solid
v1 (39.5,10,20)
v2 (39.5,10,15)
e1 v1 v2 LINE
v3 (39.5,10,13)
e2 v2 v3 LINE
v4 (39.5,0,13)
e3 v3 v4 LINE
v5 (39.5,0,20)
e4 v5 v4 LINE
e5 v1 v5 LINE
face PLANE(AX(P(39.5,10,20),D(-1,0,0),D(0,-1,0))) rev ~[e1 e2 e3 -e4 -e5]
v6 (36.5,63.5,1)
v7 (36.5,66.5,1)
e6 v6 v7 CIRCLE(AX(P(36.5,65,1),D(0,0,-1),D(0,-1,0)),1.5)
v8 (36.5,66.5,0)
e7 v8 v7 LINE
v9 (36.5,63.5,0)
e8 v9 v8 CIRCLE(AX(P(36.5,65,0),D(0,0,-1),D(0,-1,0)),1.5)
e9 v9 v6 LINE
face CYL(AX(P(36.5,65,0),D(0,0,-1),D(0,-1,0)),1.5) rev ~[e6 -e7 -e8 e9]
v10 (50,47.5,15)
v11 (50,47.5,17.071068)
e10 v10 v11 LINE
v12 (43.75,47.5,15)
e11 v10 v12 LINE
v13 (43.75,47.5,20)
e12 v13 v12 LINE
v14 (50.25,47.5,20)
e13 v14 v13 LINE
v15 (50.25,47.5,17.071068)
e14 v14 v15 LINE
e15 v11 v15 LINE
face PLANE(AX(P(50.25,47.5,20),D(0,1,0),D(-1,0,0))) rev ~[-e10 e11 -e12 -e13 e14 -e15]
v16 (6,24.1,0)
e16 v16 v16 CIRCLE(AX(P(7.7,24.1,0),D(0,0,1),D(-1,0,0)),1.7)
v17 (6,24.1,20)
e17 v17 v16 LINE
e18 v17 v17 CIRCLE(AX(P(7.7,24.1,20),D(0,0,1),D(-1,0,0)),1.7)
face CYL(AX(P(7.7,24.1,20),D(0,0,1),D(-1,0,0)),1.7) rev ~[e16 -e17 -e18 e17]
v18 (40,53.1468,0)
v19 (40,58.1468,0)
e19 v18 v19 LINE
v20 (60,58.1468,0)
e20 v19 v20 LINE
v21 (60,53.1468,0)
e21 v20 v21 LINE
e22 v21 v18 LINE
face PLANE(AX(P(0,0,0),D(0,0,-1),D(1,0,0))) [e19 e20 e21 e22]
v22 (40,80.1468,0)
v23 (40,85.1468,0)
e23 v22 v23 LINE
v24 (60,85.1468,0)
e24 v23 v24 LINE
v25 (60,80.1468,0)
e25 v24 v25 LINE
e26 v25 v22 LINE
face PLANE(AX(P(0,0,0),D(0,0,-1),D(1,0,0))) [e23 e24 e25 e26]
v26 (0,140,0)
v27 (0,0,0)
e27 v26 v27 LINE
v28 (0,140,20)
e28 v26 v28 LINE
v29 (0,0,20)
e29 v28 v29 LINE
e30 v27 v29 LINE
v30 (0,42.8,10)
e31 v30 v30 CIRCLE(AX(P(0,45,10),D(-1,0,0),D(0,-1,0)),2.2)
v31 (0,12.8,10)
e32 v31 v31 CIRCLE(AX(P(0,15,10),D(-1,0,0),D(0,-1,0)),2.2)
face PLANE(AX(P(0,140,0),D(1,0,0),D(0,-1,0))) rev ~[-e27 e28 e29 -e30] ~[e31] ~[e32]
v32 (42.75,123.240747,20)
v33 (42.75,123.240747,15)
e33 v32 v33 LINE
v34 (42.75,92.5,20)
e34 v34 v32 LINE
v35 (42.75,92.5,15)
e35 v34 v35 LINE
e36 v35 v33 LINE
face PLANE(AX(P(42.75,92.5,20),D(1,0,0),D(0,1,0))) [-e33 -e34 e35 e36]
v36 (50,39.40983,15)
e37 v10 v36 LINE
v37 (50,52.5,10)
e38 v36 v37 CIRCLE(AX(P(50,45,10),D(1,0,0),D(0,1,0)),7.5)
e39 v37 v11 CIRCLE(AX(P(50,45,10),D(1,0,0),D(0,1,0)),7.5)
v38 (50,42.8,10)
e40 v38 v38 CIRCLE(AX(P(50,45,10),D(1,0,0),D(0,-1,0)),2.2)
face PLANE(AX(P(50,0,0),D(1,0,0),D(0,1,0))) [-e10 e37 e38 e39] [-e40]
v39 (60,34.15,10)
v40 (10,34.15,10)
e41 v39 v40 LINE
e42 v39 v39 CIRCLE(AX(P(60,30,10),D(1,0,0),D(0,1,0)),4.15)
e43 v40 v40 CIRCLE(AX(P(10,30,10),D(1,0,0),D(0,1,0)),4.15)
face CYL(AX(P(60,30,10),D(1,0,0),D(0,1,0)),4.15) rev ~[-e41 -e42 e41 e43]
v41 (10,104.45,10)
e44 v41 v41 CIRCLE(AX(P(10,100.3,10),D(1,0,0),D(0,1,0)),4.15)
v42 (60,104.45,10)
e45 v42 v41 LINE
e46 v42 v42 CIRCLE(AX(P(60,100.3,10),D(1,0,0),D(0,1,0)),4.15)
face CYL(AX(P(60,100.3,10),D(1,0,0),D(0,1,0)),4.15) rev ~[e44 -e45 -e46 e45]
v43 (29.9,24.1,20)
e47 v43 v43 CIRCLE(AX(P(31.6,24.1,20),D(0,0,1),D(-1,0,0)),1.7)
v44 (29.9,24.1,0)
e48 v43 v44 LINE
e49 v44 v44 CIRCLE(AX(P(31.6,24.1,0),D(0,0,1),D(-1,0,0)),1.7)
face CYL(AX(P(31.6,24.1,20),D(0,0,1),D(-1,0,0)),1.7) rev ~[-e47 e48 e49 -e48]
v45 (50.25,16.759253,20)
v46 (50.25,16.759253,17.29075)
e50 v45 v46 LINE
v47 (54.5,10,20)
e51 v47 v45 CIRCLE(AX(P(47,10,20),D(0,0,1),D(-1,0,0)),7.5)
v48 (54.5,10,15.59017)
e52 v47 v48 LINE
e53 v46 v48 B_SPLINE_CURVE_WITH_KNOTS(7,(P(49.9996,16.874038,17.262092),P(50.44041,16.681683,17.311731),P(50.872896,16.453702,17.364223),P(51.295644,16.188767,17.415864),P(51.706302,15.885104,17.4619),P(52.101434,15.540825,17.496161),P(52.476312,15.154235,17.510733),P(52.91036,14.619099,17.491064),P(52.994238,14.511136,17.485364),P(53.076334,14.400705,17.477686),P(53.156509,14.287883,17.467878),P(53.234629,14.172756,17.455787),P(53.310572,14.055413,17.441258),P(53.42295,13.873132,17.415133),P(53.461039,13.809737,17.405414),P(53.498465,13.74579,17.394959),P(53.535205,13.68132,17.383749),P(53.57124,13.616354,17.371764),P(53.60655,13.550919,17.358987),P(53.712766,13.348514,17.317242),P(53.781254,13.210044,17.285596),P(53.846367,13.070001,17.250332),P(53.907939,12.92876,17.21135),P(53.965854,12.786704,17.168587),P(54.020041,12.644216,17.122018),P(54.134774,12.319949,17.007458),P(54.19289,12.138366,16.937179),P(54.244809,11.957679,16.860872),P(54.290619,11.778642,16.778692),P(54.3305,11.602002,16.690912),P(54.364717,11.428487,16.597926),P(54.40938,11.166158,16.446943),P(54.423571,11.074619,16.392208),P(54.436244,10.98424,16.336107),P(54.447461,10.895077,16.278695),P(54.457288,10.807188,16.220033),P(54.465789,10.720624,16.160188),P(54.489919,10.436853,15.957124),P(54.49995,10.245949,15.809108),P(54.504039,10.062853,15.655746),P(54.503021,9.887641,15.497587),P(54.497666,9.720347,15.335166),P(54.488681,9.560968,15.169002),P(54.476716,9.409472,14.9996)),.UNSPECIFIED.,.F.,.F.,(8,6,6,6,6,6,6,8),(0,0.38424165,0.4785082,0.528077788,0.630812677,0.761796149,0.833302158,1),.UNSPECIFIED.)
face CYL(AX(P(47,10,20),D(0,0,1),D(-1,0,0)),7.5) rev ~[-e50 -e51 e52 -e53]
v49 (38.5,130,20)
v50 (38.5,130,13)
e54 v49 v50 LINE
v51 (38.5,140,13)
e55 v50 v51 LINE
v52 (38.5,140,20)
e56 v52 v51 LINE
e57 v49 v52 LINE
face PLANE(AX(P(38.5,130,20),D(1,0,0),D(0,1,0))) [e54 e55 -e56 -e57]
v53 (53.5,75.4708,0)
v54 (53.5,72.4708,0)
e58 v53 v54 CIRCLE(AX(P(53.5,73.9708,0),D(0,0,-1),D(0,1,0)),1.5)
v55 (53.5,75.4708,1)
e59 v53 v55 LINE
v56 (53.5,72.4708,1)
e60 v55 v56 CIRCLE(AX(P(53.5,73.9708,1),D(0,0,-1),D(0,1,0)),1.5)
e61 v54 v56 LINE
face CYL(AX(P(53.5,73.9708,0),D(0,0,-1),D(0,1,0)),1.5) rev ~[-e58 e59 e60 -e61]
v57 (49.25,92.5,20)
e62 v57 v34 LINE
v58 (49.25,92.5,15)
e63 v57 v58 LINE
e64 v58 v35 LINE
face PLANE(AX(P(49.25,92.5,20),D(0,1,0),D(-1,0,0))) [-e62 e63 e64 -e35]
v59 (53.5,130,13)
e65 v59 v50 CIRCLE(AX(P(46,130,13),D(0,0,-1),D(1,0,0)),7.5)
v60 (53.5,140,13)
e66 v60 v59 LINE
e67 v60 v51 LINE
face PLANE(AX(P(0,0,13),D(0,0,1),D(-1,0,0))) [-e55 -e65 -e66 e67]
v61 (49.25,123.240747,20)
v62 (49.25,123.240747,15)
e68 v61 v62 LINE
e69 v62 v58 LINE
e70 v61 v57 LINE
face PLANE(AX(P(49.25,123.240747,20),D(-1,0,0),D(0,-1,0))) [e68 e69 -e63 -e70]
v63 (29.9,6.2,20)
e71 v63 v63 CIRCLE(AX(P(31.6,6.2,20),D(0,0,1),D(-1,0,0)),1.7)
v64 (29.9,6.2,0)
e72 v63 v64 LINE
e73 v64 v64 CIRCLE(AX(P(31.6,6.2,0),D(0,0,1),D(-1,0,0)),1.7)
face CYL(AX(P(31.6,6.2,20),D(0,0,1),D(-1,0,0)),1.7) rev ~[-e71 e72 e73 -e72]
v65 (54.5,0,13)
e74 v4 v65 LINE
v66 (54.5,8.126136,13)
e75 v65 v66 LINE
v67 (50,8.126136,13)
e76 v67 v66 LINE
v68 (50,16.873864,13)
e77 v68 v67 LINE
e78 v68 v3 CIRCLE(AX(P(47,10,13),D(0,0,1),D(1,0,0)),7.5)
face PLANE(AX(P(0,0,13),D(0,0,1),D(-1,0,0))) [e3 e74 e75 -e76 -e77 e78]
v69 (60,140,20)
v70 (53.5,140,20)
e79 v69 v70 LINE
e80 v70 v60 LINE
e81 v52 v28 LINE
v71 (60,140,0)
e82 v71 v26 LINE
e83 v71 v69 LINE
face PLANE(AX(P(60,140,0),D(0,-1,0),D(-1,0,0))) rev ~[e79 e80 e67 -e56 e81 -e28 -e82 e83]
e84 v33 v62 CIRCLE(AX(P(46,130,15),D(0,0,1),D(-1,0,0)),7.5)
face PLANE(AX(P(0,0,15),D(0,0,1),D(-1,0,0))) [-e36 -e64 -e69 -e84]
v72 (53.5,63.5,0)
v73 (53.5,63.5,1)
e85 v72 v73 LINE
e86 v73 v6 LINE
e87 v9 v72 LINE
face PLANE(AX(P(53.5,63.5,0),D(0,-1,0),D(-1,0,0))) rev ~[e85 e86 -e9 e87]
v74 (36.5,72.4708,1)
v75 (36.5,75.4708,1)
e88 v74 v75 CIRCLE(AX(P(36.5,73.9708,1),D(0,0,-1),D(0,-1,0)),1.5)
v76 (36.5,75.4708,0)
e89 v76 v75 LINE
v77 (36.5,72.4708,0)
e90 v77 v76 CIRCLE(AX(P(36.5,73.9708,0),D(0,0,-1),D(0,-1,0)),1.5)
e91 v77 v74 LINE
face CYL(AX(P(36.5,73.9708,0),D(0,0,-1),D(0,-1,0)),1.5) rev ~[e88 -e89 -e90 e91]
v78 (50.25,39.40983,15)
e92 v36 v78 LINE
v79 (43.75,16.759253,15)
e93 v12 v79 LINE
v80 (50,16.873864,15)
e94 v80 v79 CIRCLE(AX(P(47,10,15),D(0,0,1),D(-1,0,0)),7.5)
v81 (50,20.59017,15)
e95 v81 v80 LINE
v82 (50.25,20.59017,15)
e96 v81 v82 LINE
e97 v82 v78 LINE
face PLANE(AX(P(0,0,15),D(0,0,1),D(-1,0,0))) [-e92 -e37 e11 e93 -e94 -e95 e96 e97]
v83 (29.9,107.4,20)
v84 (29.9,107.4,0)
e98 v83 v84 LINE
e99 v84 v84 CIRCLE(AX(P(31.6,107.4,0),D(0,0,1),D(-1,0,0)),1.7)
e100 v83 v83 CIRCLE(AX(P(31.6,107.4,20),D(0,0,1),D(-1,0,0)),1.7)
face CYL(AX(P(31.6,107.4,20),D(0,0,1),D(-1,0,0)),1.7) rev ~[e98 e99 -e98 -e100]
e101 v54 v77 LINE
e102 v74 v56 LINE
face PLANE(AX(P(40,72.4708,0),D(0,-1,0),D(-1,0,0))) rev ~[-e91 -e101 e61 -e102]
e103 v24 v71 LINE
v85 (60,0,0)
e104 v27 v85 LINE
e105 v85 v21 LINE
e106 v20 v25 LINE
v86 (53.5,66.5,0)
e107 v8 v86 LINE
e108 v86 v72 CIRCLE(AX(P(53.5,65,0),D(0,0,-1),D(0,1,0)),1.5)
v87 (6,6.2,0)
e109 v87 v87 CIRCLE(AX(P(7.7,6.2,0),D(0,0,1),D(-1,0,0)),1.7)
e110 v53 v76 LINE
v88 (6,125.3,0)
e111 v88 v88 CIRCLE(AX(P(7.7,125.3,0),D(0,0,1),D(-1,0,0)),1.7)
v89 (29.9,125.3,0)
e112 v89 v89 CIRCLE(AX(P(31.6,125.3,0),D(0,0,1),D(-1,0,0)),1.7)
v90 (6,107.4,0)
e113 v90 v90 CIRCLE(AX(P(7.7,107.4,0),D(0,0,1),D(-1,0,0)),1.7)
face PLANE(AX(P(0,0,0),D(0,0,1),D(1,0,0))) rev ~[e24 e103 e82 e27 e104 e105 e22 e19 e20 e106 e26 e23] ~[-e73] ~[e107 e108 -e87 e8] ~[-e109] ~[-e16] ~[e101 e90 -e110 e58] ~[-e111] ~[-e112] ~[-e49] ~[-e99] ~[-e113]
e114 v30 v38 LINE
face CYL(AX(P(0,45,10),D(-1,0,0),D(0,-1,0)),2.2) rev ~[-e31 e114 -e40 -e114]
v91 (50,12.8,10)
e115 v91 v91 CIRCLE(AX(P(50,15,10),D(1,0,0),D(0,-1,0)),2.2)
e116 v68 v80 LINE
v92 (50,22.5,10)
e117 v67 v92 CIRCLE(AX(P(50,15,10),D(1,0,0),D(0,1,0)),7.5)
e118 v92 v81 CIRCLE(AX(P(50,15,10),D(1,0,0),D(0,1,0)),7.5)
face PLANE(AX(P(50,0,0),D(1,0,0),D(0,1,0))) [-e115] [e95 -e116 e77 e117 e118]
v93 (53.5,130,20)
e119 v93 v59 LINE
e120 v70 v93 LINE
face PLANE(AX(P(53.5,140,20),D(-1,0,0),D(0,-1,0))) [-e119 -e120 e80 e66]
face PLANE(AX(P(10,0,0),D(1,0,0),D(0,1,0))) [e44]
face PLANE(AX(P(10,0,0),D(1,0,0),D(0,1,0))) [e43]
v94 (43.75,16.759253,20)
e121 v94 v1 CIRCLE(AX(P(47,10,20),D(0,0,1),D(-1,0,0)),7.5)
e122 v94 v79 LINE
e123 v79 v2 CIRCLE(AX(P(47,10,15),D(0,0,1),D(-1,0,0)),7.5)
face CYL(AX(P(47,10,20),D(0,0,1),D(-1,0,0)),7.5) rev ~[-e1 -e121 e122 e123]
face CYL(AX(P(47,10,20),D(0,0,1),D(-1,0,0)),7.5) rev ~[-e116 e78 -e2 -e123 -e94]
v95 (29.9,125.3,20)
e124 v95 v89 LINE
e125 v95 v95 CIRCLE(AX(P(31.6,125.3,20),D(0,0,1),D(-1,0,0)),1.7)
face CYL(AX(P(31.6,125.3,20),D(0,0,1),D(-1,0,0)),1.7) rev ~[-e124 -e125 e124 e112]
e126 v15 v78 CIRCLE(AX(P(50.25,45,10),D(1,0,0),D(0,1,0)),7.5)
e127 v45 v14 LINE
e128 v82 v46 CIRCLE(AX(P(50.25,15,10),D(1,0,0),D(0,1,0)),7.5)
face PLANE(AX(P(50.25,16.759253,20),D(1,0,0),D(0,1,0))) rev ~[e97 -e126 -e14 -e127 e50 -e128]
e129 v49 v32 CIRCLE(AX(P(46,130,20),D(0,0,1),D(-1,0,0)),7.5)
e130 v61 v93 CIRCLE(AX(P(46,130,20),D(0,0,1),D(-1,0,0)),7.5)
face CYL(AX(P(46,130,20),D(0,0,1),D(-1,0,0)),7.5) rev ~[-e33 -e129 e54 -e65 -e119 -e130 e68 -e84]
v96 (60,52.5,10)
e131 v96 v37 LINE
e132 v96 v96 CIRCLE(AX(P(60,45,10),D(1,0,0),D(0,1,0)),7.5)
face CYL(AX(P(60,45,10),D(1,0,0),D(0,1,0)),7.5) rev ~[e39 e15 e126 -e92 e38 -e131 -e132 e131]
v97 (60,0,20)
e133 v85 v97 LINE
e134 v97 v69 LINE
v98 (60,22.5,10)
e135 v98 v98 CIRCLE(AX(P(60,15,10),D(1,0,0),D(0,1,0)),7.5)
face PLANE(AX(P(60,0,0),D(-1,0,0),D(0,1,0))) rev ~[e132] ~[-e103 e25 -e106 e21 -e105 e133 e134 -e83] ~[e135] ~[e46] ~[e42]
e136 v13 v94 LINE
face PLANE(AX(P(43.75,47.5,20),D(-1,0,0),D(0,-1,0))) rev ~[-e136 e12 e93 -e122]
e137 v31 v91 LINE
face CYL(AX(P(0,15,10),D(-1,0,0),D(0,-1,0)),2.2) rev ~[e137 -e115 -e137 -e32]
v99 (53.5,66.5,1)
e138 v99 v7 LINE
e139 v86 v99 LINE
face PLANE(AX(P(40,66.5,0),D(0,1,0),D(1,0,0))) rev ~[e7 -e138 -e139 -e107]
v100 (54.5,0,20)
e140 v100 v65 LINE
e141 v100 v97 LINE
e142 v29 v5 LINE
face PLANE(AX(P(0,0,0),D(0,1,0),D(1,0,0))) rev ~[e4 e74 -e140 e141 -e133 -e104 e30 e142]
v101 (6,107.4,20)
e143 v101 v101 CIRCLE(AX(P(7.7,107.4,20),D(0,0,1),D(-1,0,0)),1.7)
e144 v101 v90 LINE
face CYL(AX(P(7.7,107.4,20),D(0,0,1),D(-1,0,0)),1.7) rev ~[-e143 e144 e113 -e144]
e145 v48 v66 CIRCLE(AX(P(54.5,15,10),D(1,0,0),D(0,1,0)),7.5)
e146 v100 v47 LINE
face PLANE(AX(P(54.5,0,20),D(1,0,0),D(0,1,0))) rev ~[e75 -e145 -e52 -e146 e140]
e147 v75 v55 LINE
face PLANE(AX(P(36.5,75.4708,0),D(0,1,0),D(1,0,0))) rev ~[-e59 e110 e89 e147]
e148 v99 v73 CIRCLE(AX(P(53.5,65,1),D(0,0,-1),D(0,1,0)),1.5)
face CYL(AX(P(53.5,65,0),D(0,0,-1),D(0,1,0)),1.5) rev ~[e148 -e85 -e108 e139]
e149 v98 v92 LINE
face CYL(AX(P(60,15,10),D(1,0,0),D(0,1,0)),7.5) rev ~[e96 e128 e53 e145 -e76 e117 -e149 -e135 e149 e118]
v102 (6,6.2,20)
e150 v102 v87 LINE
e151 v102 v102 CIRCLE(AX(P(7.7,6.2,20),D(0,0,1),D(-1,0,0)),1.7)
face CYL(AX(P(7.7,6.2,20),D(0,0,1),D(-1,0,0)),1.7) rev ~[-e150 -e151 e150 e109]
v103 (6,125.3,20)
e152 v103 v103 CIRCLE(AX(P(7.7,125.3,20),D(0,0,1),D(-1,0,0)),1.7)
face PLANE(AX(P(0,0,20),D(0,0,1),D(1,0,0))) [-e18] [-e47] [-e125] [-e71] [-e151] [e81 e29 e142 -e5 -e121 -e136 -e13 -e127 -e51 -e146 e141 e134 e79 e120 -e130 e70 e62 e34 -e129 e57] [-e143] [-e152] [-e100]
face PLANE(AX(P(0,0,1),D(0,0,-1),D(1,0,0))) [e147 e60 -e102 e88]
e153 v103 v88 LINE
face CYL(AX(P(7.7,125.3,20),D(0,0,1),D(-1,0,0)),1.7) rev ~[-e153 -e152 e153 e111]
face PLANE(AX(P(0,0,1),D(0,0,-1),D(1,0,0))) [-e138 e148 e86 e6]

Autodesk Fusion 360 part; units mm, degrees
sketch "Skizze1" plane through (0, 0, 0) normal (0, 0, 1) x (1, 0, 0)
  line L0 (0, 0) -> (60, 0)
  line L1 (60, 0) -> (60, 140)
  line L2 (60, 140) -> (0, 140)
  line L3 (0, 140) -> (0, 0)
  dimension "d1" = 60
  dimension "d2" = 140
extrude "Extrusion1" add sketch "Skizze1" along normal blind 20
sketch "Skizze2" plane through (60, 0, 0) normal (1, 0, 0) x (0, 1, 0)
  line L0 (0, 0) -> (140, 0)
  line L1 (140, 0) -> (140, 20)
  line L2 (140, 20) -> (0, 20)
  line L3 (0, 20) -> (0, 0)
  circle A0 centre (30, 10) radius 4.15
  circle A1 centre (100.3, 10) radius 4.15
  point P0 (0, 10)
  dimension "d5" = 8.3
  dimension "d6" = 8.3
extrude "Extrusion2" cut sketch "Skizze2" against normal blind 50 contours A0 | A1
sketch "Skizze3" plane through (0, 0, 20) normal (0, 0, 1) x (-1, 0, 0)
  line L0 (0, -140) -> (0, 0)
  line L1 (0, 0) -> (-60, 0)
  line L2 (-60, 0) -> (-60, -140)
  line L3 (-60, -140) -> (0, -140)
  circle A0 centre (-31.6, -24.1) radius 1.7
  circle A1 centre (-7.7, -24.1) radius 1.7
  circle A2 centre (-31.6, -6.2) radius 1.7
  circle A3 centre (-7.7, -6.2) radius 1.7
  circle A4 centre (-7.7, -107.4) radius 1.7
  circle A5 centre (-31.6, -125.3) radius 1.7
  circle A6 centre (-7.7, -125.3) radius 1.7
  circle A7 centre (-31.6, -107.4) radius 1.7
  dimension "d9" = 3.4
  dimension "d10" = 3.4
  dimension "d11" = 3.4
  dimension "d12" = 3.4
  dimension "d13" = 3.4
  dimension "d14" = 3.4
  dimension "d15" = 3.4
  dimension "d16" = 3.4
extrude "Extrusion3" cut sketch "Skizze3" against normal blind 20 contours A0 | A1 | A2 | A3 | A4 | A5 | A6 | A7
sketch "Skizze5" plane through (0, 0, 0) normal (0, 0, -1) x (1, 0, 0)
  line L0 (0, 0) -> (0, -140)
  line L1 (0, -140) -> (60, -140)
  line L2 (60, -140) -> (60, 0)
  line L3 (60, 0) -> (0, 0)
  circle A0 centre (46, -130) radius 1
  circle A1 centre (7.7, -125.3) radius 1.7
  circle A2 centre (31.6, -24.1) radius 1.7
  circle A3 centre (31.6, -6.2) radius 1.7
  circle A4 centre (31.6, -125.3) radius 1.7
  circle A5 centre (7.7, -107.4) radius 1.7
  circle A6 centre (7.7, -24.1) radius 1.7
  circle A7 centre (7.7, -6.2) radius 1.7
  circle A8 centre (31.6, -107.4) radius 1.7
  dimension "d22" = 2
sketch "Skizze6" plane through (0, 0, 0) normal (0, 0, -1) x (1, 0, 0)
  circle A0 centre (7.7, -125.3) radius 1.7
  circle A1 centre (31.6, -24.1) radius 1.7
  circle A2 centre (31.6, -6.2) radius 1.7
  circle A3 centre (31.6, -125.3) radius 1.7
  circle A4 centre (7.7, -107.4) radius 1.7
  circle A5 centre (7.7, -24.1) radius 1.7
  circle A6 centre (7.7, -6.2) radius 1.7
  circle A7 centre (31.6, -107.4) radius 1.7
  line L0 (0, 0) -> (0, -140)
  line L1 (0, -140) -> (60, -140)
  line L2 (60, -140) -> (60, 0)
  line L3 (60, 0) -> (0, 0)
  line L4 (60, -53.1468) -> (40, -53.1468)
  line L5 (40, -53.1468) -> (40, -85.1468)
  line L6 (40, -85.1468) -> (60, -85.1468)
  line L7 (60, -85.1468) -> (60, -53.1468)
  line L8 (60, -53.1468) -> (40, -53.1468)
  line L9 (40, -53.1468) -> (40, -58.1468)
  line L10 (40, -58.1468) -> (60, -58.1468)
  line L11 (60, -58.1468) -> (60, -53.1468)
  line L12 (40, -85.1468) -> (60, -85.1468)
  line L13 (60, -85.1468) -> (60, -80.1468)
  line L14 (60, -80.1468) -> (40, -80.1468)
  line L15 (40, -80.1468) -> (40, -85.1468)
  line L16 (53.5, -63.5) -> (36.5, -63.5)
  arc A8 (36.5, -63.5) -> (36.5, -66.5) centre (36.5, -65) ccw
  line L17 (36.5, -66.5) -> (53.5, -66.5)
  arc A9 (53.5, -66.5) -> (53.5, -63.5) centre (53.5, -65) ccw
  line L18 (55, -65) -> (35, -65) construction
  line L19 (36.5, -75.4708) -> (53.5, -75.4708)
  arc A10 (53.5, -75.4708) -> (53.5, -72.4708) centre (53.5, -73.9708) ccw
  line L20 (53.5, -72.4708) -> (36.5, -72.4708)
  arc A11 (36.5, -72.4708) -> (36.5, -75.4708) centre (36.5, -73.9708) ccw
  line L21 (35, -73.9708) -> (55, -73.9708) construction
  dimension "d31" = 20
  dimension "d32" = 32
  dimension "d33" = 20
  dimension "d34" = 5
  dimension "d35" = 20
  dimension "d36" = 5
  dimension "d72" = 3
  dimension "d73" = 3
extrude "Extrusion19" cut sketch "Skizze6" against normal blind 1 contours L5 L16 L17 A9 | L5 L16 A8 L17 | L5 L19 L20 A11 | L5 L19 A10 L20
extrude "Extrusion7" add sketch "Skizze6" along normal blind 12 contours L2 L4 L5 L7 L8 L9 L10 L11 | L2 L5 L6 L7 L12 L13 L14 L15
sketch "Skizze8" plane through (0, 0, 0) normal (-1, 0, 0) x (0, -1, 0)
  line L0 (-140, 0) -> (0, 0)
  line L1 (0, 0) -> (0, 20)
  line L2 (0, 20) -> (-140, 20)
  line L3 (-140, 20) -> (-140, 0)
  circle A0 centre (-15, 10) radius 2.2
  circle A1 centre (-45, 10) radius 2.2
  dimension "d27" = 4.4
  dimension "d28" = 4.4
extrude "Extrusion6" cut sketch "Skizze8" against normal blind 60 contours A0 | A1
sketch "Skizze10" plane through (60, 0, 0) normal (1, 0, 0) x (0, 1, 0)
  line L0 (58.1468, -12) -> (58.1468, 0)
  line L1 (58.1468, 0) -> (80.1468, 0)
  line L2 (80.1468, 0) -> (80.1468, -12)
  circle A0 centre (15, 10) radius 2.2
  circle A1 centre (45, 10) radius 2.2
  circle A2 centre (30, 10) radius 4.15
  circle A3 centre (100.3, 10) radius 4.15
  line L3 (53.1468, -12) -> (58.1468, -12)
  line L4 (85.1468, -12) -> (85.1468, 0)
  line L5 (85.1468, 0) -> (140, 0)
  line L6 (140, 0) -> (140, 20)
  line L7 (140, 20) -> (0, 20)
  line L8 (0, 20) -> (0, 0)
  line L9 (0, 0) -> (53.1468, 0)
  line L10 (53.1468, 0) -> (53.1468, -12)
  circle A4 centre (15, 10) radius 7.5
  circle A5 centre (45, 10) radius 7.5
  line L11 (80.1468, -12) -> (85.1468, -12)
  dimension "d42" = 15
  dimension "d43" = 15
extrude "Extrusion9" cut sketch "Skizze10" against normal blind 10 contours A4 | A5
sketch "Skizze13" plane through (0, 0, 20) normal (0, 0, 1) x (-1, 0, 0)
  circle A0 centre (-7.7, -125.3) radius 1.7
  circle A1 centre (-31.6, -24.1) radius 1.7
  circle A2 centre (-31.6, -6.2) radius 1.7
  circle A3 centre (-31.6, -125.3) radius 1.7
  circle A4 centre (-7.7, -107.4) radius 1.7
  circle A5 centre (-7.7, -24.1) radius 1.7
  circle A6 centre (-7.7, -6.2) radius 1.7
  circle A7 centre (-31.6, -107.4) radius 1.7
  line L0 (0, -140) -> (0, 0)
  line L1 (0, 0) -> (-60, 0)
  line L2 (-60, 0) -> (-60, -140)
  line L3 (-60, -140) -> (0, -140)
  circle A8 centre (-47, -10) radius 7.5
  dimension "d53" = 15
extrude "Extrusion12" cut sketch "Skizze13" against normal blind 5 contours A8
sketch "Skizze14" plane through (0, 0, 15) normal (0, 0, 1) x (-1, 0, 0)
  line L0 (-50, -9.4098) -> (-50, -16.8739)
  arc A0 (-50, -16.8739) -> (-54.4767, -9.4098) centre (-47, -10) ccw
  line L1 (-54.4767, -9.4098) -> (-50, -9.4098)
  circle A1 centre (-47, -10) radius 1
  dimension "d56" = 2
extrude "Extrusion13" cut sketch "Skizze14" against normal blind 1 contours A1
sketch "Skizze15" plane through (0, 0, 20) normal (0, 0, 1) x (-1, 0, 0)
  circle A0 centre (-47, -10) radius 7.5
  circle A1 centre (-7.7, -125.3) radius 1.7
  circle A2 centre (-31.6, -24.1) radius 1.7
  circle A3 centre (-31.6, -6.2) radius 1.7
  circle A4 centre (-31.6, -125.3) radius 1.7
  circle A5 centre (-7.7, -107.4) radius 1.7
  circle A6 centre (-7.7, -24.1) radius 1.7
  circle A7 centre (-7.7, -6.2) radius 1.7
  circle A8 centre (-31.6, -107.4) radius 1.7
  line L0 (0, -140) -> (0, 0)
  line L1 (0, 0) -> (-60, 0)
  line L2 (-60, 0) -> (-60, -140)
  line L3 (-60, -140) -> (0, -140)
  line L4 (-39.5, 0) -> (-54.5, 0)
  line L5 (-54.5, 0) -> (-54.5, -17.5)
  line L6 (-54.5, -17.5) -> (-39.5, -17.5)
  line L7 (-39.5, -17.5) -> (-39.5, 0)
extrude "Extrusion14" cut sketch "Skizze15" against normal blind 7 contours A0 | A0 L1 L4 L5 L7
sketch "Skizze16" plane through (0, 0, 20) normal (0, 0, 1) x (-1, 0, 0)
  circle A0 centre (-31.6, -107.4) radius 1.7
  circle A1 centre (-7.7, -6.2) radius 1.7
  circle A2 centre (-7.7, -24.1) radius 1.7
  circle A3 centre (-7.7, -107.4) radius 1.7
  circle A4 centre (-31.6, -125.3) radius 1.7
  circle A5 centre (-31.6, -6.2) radius 1.7
  circle A6 centre (-31.6, -24.1) radius 1.7
  circle A7 centre (-7.7, -125.3) radius 1.7
  line L0 (-39.5, 0) -> (-39.5, -10)
  arc A8 (-54.5, -10) -> (-39.5, -10) centre (-47, -10) ccw
  line L1 (-54.5, -10) -> (-54.5, 0)
  line L2 (-54.5, 0) -> (-60, 0)
  line L3 (-60, 0) -> (-60, -140)
  line L4 (-60, -140) -> (0, -140)
  line L5 (0, -140) -> (0, 0)
  line L6 (0, 0) -> (-39.5, 0)
  circle A9 centre (-46, -130) radius 7.5
  line L7 (-38.5, -140) -> (-53.5, -140)
  line L8 (-53.5, -140) -> (-53.5, -122.5)
  line L9 (-53.5, -122.5) -> (-38.5, -122.5)
  line L10 (-38.5, -122.5) -> (-38.5, -140)
  dimension "d61" = 15
extrude "Extrusion15" cut sketch "Skizze16" against normal blind 7 contours L4 A9 L7 L8 L10 | A9
sketch "Skizze17" plane through (0, 0, 20) normal (0, 0, 1) x (-1, 0, 0)
  line L0 (-38.5, -130) -> (-38.5, -140)
  line L1 (-38.5, -140) -> (0, -140)
  line L2 (0, -140) -> (0, 0)
  line L3 (0, 0) -> (-39.5, 0)
  line L4 (-39.5, 0) -> (-39.5, -10)
  arc A0 (-54.5, -10) -> (-39.5, -10) centre (-47, -10) ccw
  line L5 (-54.5, -10) -> (-54.5, 0)
  line L6 (-54.5, 0) -> (-60, 0)
  line L7 (-60, 0) -> (-60, -140)
  line L8 (-60, -140) -> (-53.5, -140)
  line L9 (-53.5, -140) -> (-53.5, -130)
  arc A1 (-38.5, -130) -> (-53.5, -130) centre (-46, -130) ccw
  circle A2 centre (-31.6, -107.4) radius 1.7
  circle A3 centre (-7.7, -6.2) radius 1.7
  circle A4 centre (-7.7, -24.1) radius 1.7
  circle A5 centre (-7.7, -107.4) radius 1.7
  circle A6 centre (-31.6, -125.3) radius 1.7
  circle A7 centre (-31.6, -6.2) radius 1.7
  circle A8 centre (-31.6, -24.1) radius 1.7
  circle A9 centre (-7.7, -125.3) radius 1.7
  line L10 (-49.25, -92.5) -> (-42.75, -92.5)
  line L11 (-42.75, -92.5) -> (-42.75, -152.5)
  line L12 (-42.75, -152.5) -> (-49.25, -152.5)
  line L13 (-49.25, -152.5) -> (-49.25, -92.5)
  line L14 (-49.25, -92.5) -> (-42.75, -152.5) construction
  line L15 (-42.75, -92.5) -> (-49.25, -152.5) construction
  point P0 (-46, -122.5)
  dimension "d64" = 60
  dimension "d65" = 6.5
extrude "Extrusion16" cut sketch "Skizze17" against normal blind 5 contours A1 L10 L11 L13
sketch "Skizze18" plane through (0, 0, 20) normal (0, 0, 1) x (-1, 0, 0)
  line L0 (-42.75, -92.5) -> (-42.75, -123.2407)
  arc A0 (-38.5, -130) -> (-42.75, -123.2407) centre (-46, -130) ccw
  line L1 (-38.5, -130) -> (-38.5, -140)
  line L2 (-38.5, -140) -> (0, -140)
  line L3 (0, -140) -> (0, 0)
  line L4 (0, 0) -> (-39.5, 0)
  line L5 (-39.5, 0) -> (-39.5, -10)
  arc A1 (-54.5, -10) -> (-39.5, -10) centre (-47, -10) ccw
  line L6 (-54.5, -10) -> (-54.5, 0)
  line L7 (-54.5, 0) -> (-60, 0)
  line L8 (-60, 0) -> (-60, -140)
  line L9 (-60, -140) -> (-53.5, -140)
  line L10 (-53.5, -140) -> (-53.5, -130)
  arc A2 (-49.25, -123.2407) -> (-53.5, -130) centre (-46, -130) ccw
  line L11 (-49.25, -123.2407) -> (-49.25, -92.5)
  line L12 (-49.25, -92.5) -> (-42.75, -92.5)
  circle A3 centre (-31.6, -107.4) radius 1.7
  circle A4 centre (-7.7, -6.2) radius 1.7
  circle A5 centre (-7.7, -24.1) radius 1.7
  circle A6 centre (-7.7, -107.4) radius 1.7
  circle A7 centre (-31.6, -125.3) radius 1.7
  circle A8 centre (-31.6, -6.2) radius 1.7
  circle A9 centre (-31.6, -24.1) radius 1.7
  circle A10 centre (-7.7, -125.3) radius 1.7
  line L13 (-50.25, -47.5) -> (-43.75, -47.5)
  line L14 (-43.75, -47.5) -> (-43.75, 12.5)
  line L15 (-43.75, 12.5) -> (-50.25, 12.5)
  line L16 (-50.25, 12.5) -> (-50.25, -47.5)
  line L17 (-50.25, -47.5) -> (-43.75, 12.5) construction
  line L18 (-43.75, -47.5) -> (-50.25, 12.5) construction
  point P0 (-47, -17.5)
  dimension "d68" = 6.5
  dimension "d69" = 60
extrude "Extrusion17" cut sketch "Skizze18" against normal blind 5 contours A1 L13 L14 L16
extrude "Extrusion18" cut 2 faces at (46.6667, 54.8135, -12) (53.3333, 83.4802, -12) along direction (0, 0, 1) blind 12
